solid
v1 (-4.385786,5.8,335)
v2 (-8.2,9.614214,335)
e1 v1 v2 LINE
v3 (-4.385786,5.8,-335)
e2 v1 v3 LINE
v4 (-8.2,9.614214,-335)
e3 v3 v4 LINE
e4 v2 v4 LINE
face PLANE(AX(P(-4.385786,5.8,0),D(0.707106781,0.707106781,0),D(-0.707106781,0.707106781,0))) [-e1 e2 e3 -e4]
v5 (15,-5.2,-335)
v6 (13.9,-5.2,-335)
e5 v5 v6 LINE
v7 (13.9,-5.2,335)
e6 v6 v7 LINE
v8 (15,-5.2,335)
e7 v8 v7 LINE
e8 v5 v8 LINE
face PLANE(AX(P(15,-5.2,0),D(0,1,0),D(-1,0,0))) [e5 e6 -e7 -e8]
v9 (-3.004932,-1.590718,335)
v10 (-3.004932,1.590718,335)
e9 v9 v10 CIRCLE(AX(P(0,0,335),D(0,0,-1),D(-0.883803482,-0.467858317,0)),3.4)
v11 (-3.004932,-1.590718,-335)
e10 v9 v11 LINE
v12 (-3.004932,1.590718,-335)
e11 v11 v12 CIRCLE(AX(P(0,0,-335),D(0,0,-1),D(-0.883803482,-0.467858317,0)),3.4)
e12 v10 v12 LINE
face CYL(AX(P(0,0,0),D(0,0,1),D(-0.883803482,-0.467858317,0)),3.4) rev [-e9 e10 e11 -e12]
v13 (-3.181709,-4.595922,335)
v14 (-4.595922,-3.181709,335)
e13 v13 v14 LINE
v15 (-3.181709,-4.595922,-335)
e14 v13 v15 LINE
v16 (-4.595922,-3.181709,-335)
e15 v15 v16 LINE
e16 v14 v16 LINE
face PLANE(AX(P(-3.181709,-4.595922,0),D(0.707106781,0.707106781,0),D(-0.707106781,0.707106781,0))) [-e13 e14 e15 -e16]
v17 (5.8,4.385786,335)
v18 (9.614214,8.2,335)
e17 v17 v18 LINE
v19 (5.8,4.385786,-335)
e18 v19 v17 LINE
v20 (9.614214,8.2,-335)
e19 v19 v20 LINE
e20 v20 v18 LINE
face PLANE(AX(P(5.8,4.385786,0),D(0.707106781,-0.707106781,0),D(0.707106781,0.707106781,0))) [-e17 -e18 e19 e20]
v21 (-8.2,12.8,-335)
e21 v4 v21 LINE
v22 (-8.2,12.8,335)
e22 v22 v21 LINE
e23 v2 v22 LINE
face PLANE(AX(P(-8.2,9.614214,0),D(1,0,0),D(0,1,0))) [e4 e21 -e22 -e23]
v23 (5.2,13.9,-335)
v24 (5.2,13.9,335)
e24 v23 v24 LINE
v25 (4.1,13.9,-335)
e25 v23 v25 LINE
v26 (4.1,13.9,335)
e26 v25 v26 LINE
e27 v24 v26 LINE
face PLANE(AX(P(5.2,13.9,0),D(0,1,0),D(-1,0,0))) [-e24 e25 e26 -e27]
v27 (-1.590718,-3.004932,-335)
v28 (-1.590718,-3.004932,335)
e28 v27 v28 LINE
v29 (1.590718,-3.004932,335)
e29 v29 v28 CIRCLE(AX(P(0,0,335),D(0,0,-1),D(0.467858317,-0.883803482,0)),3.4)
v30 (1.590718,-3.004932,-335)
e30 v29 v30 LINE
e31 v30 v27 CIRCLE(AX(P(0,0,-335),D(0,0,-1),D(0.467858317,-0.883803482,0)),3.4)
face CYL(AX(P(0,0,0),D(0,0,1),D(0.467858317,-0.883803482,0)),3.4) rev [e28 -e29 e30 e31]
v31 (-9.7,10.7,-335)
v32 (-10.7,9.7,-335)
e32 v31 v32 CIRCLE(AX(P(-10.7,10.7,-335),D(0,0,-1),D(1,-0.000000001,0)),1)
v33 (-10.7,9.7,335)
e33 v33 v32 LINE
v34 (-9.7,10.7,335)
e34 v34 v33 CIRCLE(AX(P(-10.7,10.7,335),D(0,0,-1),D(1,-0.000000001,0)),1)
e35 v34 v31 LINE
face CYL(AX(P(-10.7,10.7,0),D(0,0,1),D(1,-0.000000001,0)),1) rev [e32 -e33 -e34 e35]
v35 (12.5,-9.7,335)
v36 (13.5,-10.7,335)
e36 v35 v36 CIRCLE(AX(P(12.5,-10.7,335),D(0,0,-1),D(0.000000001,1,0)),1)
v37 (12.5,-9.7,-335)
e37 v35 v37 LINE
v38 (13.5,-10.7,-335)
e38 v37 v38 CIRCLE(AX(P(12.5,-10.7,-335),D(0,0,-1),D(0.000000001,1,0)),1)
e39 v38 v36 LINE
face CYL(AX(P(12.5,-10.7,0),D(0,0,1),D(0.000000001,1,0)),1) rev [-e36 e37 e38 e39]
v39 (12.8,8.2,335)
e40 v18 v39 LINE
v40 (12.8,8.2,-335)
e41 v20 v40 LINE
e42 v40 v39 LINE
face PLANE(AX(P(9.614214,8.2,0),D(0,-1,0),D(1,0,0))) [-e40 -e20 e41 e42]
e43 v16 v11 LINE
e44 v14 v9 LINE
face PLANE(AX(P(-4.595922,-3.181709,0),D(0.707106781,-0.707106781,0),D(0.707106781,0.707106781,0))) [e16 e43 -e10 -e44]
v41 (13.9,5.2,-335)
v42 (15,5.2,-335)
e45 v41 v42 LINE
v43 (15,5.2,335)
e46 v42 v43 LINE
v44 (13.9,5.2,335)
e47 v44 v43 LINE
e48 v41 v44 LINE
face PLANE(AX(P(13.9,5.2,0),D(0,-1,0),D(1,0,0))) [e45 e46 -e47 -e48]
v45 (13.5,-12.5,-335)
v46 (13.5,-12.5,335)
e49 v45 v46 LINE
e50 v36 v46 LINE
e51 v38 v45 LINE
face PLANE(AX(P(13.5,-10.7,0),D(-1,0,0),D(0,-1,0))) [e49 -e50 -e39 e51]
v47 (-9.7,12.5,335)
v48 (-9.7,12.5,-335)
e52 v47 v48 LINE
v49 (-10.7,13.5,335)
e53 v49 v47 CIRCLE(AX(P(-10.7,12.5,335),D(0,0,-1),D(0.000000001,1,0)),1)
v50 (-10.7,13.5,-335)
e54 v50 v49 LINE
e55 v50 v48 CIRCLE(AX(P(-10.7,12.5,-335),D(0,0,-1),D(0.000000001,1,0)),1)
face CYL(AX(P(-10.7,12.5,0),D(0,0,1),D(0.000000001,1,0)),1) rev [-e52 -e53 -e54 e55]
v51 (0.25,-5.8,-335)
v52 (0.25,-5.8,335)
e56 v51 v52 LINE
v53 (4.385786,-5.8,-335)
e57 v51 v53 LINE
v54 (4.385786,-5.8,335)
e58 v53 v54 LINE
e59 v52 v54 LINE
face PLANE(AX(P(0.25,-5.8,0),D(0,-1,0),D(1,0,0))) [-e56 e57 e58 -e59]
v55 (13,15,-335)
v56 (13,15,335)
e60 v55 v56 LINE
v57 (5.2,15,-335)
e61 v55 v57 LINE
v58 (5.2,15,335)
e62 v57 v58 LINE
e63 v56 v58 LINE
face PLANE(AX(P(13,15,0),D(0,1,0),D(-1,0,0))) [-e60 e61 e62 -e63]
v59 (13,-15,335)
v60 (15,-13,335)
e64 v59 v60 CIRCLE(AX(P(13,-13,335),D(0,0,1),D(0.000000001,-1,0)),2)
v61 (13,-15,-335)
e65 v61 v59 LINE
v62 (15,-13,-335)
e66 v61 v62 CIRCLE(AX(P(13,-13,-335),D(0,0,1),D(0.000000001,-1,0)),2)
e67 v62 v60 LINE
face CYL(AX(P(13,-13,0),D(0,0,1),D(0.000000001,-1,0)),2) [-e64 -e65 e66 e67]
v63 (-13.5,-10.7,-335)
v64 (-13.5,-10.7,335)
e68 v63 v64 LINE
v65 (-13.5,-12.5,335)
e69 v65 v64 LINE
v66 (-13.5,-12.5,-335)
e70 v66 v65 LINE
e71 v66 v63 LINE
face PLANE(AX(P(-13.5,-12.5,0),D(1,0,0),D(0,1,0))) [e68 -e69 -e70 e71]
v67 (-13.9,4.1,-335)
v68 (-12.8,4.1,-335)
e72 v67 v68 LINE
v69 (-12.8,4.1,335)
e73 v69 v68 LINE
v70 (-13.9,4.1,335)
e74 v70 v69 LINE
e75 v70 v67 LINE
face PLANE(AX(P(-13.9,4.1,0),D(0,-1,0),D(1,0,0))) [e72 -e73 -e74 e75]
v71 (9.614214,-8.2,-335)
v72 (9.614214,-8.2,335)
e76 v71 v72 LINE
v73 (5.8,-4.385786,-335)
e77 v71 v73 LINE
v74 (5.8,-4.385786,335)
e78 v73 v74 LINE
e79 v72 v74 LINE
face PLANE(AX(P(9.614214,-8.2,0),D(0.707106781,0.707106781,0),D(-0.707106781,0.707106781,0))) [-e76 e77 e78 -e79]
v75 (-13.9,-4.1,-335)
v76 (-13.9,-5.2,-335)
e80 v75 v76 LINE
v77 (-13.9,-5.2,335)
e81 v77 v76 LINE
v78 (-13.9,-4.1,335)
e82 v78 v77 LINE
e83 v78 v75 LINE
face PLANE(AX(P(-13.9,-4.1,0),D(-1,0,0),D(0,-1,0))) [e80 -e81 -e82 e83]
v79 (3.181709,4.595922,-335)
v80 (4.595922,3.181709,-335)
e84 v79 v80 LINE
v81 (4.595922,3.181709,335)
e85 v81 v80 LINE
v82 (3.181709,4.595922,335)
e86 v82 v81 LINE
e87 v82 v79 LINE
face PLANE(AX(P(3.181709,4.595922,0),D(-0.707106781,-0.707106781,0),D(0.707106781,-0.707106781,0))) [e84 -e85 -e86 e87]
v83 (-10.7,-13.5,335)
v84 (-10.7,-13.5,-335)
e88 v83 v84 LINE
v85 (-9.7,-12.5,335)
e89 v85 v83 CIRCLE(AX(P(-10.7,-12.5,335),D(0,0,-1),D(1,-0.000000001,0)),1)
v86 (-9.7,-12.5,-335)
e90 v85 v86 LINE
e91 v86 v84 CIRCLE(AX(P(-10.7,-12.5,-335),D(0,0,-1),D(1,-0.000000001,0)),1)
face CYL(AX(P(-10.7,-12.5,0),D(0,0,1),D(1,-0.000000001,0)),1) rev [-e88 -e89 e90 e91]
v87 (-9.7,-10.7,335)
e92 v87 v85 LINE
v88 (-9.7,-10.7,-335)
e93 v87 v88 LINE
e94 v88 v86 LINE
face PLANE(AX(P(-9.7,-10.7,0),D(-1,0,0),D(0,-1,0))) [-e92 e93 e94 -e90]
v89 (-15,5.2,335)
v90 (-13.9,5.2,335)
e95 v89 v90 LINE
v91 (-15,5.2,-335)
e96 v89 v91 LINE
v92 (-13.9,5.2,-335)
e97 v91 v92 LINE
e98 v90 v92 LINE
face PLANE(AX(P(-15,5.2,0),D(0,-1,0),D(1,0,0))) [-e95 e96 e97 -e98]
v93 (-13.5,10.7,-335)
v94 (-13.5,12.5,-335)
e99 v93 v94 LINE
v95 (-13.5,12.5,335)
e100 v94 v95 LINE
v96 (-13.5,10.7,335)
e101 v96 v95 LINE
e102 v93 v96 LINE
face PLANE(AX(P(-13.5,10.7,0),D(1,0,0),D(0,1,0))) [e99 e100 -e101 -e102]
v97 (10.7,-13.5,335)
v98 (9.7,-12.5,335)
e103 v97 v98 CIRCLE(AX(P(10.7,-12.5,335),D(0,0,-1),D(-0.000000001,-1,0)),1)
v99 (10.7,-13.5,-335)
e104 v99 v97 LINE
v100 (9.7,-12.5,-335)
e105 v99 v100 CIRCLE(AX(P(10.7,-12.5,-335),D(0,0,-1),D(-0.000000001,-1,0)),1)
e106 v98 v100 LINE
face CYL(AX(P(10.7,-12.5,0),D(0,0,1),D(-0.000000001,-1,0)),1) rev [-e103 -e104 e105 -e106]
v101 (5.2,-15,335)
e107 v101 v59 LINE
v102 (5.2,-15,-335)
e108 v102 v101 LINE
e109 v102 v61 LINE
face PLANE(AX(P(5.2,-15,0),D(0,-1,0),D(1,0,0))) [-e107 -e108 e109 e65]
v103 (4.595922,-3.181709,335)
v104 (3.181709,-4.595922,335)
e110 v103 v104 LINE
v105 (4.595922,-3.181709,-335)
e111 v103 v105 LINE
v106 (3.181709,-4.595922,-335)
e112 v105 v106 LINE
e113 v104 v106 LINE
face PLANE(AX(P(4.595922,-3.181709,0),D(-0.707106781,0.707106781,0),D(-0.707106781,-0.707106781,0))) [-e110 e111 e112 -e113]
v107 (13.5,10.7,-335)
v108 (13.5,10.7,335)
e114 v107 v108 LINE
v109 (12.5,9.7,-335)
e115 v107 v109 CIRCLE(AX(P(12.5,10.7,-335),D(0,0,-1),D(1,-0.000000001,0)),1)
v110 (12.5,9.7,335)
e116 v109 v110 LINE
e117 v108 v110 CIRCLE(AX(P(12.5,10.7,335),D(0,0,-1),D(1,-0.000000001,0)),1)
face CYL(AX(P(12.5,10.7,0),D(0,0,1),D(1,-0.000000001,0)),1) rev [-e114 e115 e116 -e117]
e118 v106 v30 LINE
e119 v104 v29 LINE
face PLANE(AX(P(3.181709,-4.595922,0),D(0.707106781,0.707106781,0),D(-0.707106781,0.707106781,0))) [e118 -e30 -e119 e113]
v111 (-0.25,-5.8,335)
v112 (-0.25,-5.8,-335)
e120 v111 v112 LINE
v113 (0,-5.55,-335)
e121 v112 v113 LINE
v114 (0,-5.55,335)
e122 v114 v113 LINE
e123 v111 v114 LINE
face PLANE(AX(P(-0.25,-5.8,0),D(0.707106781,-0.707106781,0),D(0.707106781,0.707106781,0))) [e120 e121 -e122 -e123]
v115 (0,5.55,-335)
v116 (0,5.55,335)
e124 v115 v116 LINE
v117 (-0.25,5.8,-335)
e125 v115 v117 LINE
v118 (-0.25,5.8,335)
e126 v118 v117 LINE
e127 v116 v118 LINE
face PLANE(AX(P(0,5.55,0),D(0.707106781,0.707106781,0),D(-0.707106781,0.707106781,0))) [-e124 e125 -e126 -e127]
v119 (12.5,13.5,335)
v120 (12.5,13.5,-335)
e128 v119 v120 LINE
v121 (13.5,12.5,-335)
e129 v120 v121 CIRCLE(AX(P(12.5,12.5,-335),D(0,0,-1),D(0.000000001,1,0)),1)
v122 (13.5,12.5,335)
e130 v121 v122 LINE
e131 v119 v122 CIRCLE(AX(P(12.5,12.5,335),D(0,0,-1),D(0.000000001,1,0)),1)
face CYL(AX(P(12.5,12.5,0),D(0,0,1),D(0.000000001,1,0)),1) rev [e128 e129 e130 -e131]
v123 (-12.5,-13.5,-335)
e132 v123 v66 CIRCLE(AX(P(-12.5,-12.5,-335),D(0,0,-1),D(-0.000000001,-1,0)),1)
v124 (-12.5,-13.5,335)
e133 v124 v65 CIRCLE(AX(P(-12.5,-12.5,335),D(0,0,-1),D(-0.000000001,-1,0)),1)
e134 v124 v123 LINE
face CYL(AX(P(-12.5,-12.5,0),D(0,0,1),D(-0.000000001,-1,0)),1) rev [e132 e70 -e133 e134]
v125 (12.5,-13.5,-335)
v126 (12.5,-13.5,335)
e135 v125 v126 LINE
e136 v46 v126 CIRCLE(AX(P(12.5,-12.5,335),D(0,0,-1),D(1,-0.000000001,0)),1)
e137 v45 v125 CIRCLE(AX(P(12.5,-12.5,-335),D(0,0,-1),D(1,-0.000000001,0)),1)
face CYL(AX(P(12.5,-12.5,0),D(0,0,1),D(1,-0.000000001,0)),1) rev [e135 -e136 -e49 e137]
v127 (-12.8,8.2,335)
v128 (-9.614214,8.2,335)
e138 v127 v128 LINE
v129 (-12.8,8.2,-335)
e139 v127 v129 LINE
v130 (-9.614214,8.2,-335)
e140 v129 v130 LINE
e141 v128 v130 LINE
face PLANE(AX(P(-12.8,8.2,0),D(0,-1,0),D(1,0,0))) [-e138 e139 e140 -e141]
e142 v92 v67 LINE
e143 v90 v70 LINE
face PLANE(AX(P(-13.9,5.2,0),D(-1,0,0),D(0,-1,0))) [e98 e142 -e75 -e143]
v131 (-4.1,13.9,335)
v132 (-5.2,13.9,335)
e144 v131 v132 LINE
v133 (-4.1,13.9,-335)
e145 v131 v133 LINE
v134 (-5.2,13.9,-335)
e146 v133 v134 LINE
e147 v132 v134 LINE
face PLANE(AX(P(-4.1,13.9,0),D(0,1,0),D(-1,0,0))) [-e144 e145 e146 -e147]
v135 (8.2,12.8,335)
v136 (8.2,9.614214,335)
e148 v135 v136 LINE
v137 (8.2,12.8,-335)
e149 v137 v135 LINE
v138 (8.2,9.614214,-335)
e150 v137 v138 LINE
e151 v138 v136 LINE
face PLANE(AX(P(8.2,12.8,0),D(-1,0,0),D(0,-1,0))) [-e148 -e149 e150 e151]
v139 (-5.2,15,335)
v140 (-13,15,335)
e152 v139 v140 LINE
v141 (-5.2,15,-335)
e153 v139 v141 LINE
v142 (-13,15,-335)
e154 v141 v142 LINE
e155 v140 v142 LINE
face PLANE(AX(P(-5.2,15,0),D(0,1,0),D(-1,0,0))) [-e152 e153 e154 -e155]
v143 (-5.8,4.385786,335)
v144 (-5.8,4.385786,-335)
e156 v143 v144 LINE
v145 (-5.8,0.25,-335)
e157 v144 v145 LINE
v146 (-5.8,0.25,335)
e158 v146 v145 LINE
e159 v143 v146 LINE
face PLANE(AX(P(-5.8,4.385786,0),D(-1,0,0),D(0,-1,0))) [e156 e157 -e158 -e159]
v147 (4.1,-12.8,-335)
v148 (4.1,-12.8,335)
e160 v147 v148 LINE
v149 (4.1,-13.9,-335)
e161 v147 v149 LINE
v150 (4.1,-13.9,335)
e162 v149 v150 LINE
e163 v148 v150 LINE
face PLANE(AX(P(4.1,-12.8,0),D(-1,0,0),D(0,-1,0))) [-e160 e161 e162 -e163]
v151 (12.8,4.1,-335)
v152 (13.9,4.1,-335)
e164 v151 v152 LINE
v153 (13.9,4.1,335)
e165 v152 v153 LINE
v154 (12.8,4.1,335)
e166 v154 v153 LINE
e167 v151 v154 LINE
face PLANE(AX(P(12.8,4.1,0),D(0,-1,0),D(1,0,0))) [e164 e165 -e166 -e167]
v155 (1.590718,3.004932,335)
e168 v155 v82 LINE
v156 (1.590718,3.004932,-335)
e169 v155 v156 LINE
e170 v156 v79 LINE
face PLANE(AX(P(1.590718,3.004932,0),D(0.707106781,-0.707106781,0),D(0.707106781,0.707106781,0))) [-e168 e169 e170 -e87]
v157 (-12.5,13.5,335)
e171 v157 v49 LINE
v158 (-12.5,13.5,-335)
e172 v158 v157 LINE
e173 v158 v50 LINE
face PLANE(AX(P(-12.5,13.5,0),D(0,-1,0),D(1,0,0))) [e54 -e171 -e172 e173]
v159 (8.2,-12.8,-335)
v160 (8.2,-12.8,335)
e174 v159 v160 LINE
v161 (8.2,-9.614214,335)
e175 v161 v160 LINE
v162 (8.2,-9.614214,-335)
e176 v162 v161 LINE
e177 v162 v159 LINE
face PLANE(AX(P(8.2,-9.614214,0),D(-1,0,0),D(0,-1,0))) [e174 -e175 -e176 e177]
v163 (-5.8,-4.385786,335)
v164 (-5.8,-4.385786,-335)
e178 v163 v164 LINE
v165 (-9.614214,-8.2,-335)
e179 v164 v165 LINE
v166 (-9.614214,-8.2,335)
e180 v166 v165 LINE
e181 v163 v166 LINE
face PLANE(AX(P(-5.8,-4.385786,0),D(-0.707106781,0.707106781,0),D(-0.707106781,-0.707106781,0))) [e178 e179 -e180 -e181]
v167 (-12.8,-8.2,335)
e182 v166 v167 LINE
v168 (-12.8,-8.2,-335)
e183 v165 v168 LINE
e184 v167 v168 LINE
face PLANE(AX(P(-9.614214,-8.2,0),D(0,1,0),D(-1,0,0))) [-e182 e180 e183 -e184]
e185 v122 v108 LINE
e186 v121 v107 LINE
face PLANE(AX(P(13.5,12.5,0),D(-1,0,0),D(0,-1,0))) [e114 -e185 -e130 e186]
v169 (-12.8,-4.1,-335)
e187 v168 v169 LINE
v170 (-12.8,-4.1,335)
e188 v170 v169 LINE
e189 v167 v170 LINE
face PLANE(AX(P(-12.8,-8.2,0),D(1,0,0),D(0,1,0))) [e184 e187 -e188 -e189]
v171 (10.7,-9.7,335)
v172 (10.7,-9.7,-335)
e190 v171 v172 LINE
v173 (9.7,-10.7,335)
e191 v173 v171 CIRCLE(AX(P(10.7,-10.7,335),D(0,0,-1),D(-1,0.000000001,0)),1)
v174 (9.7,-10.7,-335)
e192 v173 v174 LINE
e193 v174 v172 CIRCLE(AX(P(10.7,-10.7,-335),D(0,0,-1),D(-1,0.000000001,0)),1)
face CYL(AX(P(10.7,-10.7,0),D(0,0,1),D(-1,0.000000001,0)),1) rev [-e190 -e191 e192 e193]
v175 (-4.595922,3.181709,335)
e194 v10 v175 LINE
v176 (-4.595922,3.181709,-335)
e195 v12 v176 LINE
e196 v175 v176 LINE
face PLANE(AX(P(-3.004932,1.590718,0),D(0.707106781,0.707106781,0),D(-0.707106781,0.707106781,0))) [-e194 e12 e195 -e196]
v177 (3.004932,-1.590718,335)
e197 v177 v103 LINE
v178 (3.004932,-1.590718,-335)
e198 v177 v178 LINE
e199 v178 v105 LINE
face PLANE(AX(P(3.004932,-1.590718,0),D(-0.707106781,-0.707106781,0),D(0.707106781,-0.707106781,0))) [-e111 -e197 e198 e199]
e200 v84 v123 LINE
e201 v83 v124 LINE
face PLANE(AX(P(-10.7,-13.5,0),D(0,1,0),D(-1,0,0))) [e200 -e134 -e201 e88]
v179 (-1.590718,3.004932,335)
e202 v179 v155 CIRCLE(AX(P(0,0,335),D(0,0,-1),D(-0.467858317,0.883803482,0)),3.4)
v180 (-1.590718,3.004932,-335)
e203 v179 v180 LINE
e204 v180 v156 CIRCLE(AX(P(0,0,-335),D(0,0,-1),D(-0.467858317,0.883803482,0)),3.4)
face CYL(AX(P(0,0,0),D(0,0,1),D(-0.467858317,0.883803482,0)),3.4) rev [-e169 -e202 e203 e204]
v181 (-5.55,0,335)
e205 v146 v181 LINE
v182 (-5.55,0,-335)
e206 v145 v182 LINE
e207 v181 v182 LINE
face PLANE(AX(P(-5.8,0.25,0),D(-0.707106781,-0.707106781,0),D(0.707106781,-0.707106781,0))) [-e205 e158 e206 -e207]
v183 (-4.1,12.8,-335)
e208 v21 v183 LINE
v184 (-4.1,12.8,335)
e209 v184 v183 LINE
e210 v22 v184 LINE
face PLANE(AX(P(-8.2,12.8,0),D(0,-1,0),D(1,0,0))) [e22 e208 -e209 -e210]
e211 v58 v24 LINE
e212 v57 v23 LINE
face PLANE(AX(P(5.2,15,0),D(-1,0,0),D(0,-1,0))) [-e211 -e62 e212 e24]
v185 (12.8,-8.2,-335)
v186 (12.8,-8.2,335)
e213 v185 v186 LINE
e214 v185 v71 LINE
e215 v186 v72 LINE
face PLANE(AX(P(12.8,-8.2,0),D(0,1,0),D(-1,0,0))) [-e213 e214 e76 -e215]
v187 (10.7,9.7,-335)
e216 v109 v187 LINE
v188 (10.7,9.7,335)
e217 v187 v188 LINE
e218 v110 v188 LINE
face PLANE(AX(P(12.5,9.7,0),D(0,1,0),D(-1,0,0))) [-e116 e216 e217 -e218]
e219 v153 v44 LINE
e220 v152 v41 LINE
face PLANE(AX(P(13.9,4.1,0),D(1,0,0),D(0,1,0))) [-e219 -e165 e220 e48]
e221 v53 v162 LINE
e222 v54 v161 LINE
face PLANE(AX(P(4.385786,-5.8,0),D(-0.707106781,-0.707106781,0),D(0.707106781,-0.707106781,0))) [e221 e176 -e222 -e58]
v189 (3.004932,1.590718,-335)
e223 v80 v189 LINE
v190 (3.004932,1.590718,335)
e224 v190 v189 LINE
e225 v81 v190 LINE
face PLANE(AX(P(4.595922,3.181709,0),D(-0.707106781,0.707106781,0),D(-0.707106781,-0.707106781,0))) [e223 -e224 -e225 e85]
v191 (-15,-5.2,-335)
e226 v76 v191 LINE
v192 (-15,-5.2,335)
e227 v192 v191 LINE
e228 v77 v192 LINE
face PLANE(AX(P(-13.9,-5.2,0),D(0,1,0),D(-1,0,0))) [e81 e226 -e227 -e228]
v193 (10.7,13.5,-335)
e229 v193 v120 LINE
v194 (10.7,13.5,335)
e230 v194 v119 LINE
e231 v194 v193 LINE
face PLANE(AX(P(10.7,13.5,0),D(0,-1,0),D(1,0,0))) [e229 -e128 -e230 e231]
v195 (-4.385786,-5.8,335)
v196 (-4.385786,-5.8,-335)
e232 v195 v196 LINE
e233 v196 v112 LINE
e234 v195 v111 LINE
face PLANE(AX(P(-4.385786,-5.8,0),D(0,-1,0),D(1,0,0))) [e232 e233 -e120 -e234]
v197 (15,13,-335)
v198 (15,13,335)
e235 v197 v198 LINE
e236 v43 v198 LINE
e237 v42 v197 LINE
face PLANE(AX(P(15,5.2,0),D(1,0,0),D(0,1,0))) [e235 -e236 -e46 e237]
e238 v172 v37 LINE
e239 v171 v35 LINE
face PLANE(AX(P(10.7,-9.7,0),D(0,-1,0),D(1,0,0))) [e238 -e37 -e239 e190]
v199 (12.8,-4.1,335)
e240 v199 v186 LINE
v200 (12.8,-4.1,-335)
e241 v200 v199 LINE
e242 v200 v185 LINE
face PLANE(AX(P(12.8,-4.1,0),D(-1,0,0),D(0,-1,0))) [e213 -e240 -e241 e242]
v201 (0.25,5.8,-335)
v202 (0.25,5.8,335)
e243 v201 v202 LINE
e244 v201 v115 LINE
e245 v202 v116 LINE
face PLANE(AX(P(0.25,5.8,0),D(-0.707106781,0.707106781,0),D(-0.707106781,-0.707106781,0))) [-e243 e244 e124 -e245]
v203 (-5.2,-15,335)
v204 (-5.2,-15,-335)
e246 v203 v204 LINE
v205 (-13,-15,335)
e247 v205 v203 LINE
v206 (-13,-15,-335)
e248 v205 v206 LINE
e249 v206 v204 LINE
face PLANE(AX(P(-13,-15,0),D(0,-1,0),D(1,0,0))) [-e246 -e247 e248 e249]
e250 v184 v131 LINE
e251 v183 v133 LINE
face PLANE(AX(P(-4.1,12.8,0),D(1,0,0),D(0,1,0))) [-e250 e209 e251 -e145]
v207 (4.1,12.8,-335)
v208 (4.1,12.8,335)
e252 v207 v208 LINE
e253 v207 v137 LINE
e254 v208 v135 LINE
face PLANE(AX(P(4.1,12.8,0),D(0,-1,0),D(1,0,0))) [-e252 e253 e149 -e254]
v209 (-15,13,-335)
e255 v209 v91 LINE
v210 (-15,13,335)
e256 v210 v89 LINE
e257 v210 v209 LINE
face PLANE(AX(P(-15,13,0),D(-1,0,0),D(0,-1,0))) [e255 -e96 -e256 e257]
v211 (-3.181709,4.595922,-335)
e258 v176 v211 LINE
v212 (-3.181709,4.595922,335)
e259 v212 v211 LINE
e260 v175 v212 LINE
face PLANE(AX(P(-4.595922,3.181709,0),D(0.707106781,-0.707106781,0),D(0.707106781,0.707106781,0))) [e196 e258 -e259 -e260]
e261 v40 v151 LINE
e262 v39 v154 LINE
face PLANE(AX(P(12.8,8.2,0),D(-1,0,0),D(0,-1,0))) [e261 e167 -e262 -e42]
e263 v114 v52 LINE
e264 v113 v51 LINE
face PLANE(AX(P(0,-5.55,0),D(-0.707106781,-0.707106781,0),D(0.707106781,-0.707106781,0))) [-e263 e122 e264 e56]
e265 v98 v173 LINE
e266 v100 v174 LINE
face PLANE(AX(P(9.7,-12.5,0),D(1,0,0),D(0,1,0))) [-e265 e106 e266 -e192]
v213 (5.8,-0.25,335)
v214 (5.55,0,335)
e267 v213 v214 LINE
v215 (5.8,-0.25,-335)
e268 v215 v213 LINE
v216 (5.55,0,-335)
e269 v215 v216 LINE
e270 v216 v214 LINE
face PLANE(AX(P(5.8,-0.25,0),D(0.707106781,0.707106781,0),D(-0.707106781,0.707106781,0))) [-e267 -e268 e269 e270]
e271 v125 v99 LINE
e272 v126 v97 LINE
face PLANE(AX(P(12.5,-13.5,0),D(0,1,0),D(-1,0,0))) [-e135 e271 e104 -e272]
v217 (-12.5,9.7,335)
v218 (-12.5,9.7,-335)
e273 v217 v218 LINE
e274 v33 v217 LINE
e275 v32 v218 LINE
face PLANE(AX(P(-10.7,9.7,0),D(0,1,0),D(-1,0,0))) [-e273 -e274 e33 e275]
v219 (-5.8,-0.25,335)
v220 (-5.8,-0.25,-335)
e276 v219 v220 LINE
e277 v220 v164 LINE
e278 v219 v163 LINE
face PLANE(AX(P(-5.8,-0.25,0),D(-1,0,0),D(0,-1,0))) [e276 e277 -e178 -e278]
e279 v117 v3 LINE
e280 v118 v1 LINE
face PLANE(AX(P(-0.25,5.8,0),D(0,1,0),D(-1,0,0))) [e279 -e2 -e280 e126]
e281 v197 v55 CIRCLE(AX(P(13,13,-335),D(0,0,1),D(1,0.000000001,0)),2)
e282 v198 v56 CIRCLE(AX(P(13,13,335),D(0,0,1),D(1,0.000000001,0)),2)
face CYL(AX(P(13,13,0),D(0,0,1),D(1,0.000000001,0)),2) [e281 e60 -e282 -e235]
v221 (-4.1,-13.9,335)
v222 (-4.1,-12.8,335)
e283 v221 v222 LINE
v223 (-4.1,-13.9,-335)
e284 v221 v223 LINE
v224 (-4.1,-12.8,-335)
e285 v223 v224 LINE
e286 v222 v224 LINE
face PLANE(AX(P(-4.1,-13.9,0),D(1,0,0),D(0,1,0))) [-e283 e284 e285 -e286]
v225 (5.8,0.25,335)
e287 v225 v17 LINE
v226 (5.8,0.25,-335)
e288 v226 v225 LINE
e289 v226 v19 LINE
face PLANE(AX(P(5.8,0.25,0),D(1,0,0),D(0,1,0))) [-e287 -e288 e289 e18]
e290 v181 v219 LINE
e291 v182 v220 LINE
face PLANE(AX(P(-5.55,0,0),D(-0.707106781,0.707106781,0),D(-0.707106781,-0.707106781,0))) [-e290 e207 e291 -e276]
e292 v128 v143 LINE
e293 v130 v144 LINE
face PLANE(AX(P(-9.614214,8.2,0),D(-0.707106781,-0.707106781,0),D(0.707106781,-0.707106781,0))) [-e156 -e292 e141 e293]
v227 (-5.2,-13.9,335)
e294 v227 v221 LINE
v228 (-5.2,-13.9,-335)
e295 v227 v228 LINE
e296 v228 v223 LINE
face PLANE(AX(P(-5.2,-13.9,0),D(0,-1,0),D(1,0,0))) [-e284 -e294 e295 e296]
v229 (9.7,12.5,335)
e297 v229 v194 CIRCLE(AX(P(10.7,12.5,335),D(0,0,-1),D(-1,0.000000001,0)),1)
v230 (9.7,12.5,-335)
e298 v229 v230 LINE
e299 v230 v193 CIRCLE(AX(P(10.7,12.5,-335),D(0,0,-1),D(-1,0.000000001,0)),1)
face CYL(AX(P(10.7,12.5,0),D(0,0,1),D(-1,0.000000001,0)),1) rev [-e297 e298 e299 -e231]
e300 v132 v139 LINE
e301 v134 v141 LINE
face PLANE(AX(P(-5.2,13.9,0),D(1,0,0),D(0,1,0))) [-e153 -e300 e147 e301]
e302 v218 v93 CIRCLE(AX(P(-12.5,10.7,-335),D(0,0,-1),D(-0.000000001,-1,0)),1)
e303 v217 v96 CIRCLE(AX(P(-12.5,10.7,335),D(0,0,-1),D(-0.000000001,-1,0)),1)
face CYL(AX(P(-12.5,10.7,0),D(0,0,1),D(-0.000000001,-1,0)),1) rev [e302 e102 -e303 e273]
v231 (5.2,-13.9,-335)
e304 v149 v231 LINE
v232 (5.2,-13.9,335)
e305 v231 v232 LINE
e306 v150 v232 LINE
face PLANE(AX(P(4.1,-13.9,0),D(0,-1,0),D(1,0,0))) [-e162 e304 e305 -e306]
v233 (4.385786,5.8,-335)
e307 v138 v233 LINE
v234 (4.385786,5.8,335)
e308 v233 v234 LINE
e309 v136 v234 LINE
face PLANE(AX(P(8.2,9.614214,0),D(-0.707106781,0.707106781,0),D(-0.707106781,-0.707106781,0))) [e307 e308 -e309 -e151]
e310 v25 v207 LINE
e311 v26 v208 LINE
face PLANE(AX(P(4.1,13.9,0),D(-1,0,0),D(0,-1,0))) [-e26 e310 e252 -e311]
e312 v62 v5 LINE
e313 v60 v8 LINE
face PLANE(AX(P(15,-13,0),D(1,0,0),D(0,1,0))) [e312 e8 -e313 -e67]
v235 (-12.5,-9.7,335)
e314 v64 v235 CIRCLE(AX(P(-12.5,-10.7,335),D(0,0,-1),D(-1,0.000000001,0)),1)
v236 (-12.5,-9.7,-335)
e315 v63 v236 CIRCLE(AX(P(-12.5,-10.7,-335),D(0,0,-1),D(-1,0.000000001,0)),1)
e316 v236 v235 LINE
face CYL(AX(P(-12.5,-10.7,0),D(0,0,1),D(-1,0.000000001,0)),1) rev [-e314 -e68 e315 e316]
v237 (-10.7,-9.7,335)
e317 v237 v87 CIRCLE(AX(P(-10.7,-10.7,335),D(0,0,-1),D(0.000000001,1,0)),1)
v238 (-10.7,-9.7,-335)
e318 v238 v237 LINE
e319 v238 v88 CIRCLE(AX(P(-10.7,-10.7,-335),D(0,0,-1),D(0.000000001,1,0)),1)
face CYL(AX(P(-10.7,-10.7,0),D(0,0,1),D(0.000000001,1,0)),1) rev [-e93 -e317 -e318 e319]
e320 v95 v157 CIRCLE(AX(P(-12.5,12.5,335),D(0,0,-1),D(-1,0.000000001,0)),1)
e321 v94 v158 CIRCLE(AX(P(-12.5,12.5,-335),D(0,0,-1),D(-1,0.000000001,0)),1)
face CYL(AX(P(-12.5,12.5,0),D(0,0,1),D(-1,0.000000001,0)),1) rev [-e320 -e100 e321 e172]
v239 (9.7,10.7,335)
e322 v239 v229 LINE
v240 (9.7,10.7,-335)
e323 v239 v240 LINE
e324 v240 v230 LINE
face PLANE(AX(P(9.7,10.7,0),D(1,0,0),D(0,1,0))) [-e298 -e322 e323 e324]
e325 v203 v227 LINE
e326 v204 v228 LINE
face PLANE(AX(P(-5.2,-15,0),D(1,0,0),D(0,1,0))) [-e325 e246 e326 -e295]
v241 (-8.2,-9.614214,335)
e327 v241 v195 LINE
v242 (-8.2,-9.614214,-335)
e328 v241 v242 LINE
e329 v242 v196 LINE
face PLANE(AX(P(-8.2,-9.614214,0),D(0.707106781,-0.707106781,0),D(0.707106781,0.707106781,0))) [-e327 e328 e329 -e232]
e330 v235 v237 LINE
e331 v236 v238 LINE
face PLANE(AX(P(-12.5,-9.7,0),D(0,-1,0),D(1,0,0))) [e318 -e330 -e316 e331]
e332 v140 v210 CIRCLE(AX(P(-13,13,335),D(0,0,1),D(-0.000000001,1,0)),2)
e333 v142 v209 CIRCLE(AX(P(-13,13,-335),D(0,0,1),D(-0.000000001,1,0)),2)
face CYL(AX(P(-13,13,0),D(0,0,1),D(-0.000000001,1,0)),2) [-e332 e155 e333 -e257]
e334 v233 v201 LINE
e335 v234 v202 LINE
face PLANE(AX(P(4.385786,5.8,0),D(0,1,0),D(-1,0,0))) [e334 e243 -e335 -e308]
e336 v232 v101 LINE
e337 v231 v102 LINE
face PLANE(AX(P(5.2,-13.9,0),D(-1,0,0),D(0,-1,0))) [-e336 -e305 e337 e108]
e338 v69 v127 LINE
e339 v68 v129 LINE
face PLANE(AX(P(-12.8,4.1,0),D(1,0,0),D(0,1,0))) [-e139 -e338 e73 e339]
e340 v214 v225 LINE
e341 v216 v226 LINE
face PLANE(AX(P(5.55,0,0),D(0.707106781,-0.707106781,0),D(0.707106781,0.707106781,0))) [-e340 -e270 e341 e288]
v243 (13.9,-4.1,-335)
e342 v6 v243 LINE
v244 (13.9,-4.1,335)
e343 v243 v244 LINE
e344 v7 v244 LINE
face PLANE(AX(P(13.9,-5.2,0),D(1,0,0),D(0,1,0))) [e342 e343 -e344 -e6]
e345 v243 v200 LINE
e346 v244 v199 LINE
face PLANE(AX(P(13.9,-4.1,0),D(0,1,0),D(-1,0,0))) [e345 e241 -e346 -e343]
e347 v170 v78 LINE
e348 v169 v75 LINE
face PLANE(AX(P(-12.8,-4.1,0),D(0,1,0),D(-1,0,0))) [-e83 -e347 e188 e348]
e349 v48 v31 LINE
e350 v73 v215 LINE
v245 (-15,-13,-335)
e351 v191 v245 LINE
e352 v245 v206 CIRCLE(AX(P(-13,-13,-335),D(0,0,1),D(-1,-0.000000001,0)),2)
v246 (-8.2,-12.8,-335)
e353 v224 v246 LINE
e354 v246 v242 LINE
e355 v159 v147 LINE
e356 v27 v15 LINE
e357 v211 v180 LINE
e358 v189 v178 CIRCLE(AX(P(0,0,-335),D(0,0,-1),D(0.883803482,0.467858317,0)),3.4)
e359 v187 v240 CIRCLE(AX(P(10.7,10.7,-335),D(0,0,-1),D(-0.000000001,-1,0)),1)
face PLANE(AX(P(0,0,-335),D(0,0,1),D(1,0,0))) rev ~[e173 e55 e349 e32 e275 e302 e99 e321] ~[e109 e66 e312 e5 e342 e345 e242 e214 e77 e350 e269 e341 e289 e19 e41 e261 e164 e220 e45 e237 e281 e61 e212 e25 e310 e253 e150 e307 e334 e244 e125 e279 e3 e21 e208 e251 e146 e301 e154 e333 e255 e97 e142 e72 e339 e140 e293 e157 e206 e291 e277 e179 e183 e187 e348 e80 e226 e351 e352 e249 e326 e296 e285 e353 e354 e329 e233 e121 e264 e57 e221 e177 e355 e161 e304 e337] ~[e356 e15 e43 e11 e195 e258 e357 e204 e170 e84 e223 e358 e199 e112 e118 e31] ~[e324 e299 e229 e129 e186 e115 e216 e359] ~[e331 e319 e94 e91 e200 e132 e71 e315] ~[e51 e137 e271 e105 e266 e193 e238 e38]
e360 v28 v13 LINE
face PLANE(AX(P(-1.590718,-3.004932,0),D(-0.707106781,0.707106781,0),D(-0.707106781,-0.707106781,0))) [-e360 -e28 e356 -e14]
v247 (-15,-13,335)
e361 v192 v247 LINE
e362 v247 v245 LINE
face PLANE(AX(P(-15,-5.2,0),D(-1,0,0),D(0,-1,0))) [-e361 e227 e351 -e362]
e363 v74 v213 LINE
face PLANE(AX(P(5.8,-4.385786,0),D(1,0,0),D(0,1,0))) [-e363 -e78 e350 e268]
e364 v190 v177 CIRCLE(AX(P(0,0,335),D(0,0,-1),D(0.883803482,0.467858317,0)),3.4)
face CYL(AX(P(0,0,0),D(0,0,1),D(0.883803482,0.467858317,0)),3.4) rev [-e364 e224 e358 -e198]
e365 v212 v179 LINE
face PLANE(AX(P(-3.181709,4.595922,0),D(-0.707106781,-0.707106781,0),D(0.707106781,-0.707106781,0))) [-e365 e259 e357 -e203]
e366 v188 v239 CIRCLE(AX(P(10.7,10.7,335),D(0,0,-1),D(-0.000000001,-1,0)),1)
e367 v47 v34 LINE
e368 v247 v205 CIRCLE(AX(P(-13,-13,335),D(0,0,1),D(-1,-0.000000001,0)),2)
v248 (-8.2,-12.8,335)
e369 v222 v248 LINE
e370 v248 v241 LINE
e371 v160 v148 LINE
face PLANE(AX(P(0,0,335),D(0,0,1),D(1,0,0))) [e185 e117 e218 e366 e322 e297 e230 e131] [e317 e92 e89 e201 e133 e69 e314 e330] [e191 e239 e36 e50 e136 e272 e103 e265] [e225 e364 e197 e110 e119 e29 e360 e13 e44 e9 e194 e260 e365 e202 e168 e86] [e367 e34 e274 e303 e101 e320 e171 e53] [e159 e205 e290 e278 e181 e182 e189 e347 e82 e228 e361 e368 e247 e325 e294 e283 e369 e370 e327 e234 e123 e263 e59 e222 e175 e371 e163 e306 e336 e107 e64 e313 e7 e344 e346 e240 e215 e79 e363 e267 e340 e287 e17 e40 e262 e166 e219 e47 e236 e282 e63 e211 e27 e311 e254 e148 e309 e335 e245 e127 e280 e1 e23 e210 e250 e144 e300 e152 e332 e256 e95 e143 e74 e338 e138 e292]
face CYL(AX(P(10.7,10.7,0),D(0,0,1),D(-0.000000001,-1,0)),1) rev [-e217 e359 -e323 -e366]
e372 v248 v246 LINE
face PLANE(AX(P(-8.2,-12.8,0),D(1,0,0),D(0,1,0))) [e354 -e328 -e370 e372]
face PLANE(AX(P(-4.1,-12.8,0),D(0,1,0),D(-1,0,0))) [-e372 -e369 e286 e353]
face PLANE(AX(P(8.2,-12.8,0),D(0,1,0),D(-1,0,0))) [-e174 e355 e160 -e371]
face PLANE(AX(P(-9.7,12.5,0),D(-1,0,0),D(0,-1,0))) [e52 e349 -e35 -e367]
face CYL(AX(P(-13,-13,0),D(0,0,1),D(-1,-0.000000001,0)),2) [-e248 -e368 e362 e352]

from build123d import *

# Parameters (mm, degrees)
BOSS_EXTRUDE1_DEPTH = 335


with BuildPart() as part:
    # Sketch1 → Boss-Extrude1 (new, symmetric)
    with BuildSketch(Plane.XY):
        with BuildLine():
            Line((0, -5.55), (0.25, -5.8))
            Line((0.25, -5.8), (4.385786438, -5.8))
            Line((4.385786438, -5.8), (8.2, -9.614213562))
            Line((8.2, -9.614213562), (8.2, -12.8))
            Line((8.2, -12.8), (4.1, -12.8))
            Line((4.1, -12.8), (4.1, -13.9))
            Line((4.1, -13.9), (5.2, -13.9))
            Line((5.2, -13.9), (5.2, -15))
            Line((5.2, -15), (13, -15))
            ThreePointArc((13, -15), (14.414213562, -14.414213562), (15, -13))
            Line((15, -13), (15, -5.2))
            Line((15, -5.2), (13.9, -5.2))
            Line((13.9, -5.2), (13.9, -4.1))
            Line((13.9, -4.1), (12.8, -4.1))
            Line((12.8, -4.1), (12.8, -8.2))
            Line((12.8, -8.2), (9.614213562, -8.2))
            Line((9.614213562, -8.2), (5.8, -4.385786438))
            Line((5.8, -4.385786438), (5.8, -0.25))
            Line((5.8, -0.25), (5.55, 0))
            Line((5.55, 0), (5.8, 0.25))
            Line((5.8, 0.25), (5.8, 4.385786438))
            Line((5.8, 4.385786438), (9.614213562, 8.2))
            Line((9.614213562, 8.2), (12.8, 8.2))
            Line((12.8, 8.2), (12.8, 4.1))
            Line((12.8, 4.1), (13.9, 4.1))
            Line((13.9, 4.1), (13.9, 5.2))
            Line((13.9, 5.2), (15, 5.2))
            Line((15, 5.2), (15, 13))
            ThreePointArc((15, 13), (14.414213562, 14.414213562), (13, 15))
            Line((13, 15), (5.2, 15))
            Line((5.2, 15), (5.2, 13.9))
            Line((5.2, 13.9), (4.1, 13.9))
            Line((4.1, 13.9), (4.1, 12.8))
            Line((4.1, 12.8), (8.2, 12.8))
            Line((8.2, 12.8), (8.2, 9.614213562))
            Line((8.2, 9.614213562), (4.385786438, 5.8))
            Line((4.385786438, 5.8), (0.25, 5.8))
            Line((0.25, 5.8), (0, 5.55))
            Line((0, 5.55), (-0.25, 5.8))
            Line((-0.25, 5.8), (-4.385786438, 5.8))
            Line((-4.385786438, 5.8), (-8.2, 9.614213562))
            Line((-8.2, 9.614213562), (-8.2, 12.8))
            Line((-8.2, 12.8), (-4.1, 12.8))
            Line((-4.1, 12.8), (-4.1, 13.9))
            Line((-4.1, 13.9), (-5.2, 13.9))
            Line((-5.2, 13.9), (-5.2, 15))
            Line((-5.2, 15), (-13, 15))
            ThreePointArc((-13, 15), (-14.414213562, 14.414213562), (-15, 13))
            Line((-15, 13), (-15, 5.2))
            Line((-15, 5.2), (-13.9, 5.2))
            Line((-13.9, 5.2), (-13.9, 4.1))
            Line((-13.9, 4.1), (-12.8, 4.1))
            Line((-12.8, 4.1), (-12.8, 8.2))
            Line((-12.8, 8.2), (-9.614213562, 8.2))
            Line((-9.614213562, 8.2), (-5.8, 4.385786438))
            Line((-5.8, 4.385786438), (-5.8, 0.25))
            Line((-5.8, 0.25), (-5.55, 0))
            Line((-5.55, 0), (-5.8, -0.25))
            Line((-5.8, -0.25), (-5.8, -4.385786438))
            Line((-5.8, -4.385786438), (-9.614213562, -8.2))
            Line((-9.614213562, -8.2), (-12.8, -8.2))
            Line((-12.8, -8.2), (-12.8, -4.1))
            Line((-12.8, -4.1), (-13.9, -4.1))
            Line((-13.9, -4.1), (-13.9, -5.2))
            Line((-13.9, -5.2), (-15, -5.2))
            Line((-15, -5.2), (-15, -13))
            ThreePointArc((-15, -13), (-14.414213562, -14.414213562), (-13, -15))
            Line((-13, -15), (-5.2, -15))
            Line((-5.2, -15), (-5.2, -13.9))
            Line((-5.2, -13.9), (-4.1, -13.9))
            Line((-4.1, -13.9), (-4.1, -12.8))
            Line((-4.1, -12.8), (-8.2, -12.8))
            Line((-8.2, -12.8), (-8.2, -9.614213562))
            Line((-8.2, -9.614213562), (-4.385786438, -5.8))
            Line((-4.385786438, -5.8), (-0.25, -5.8))
            Line((-0.25, -5.8), (0, -5.55))
        make_face()
        with BuildLine():
            Line((-13.5, 10.7), (-13.5, 12.5))
            ThreePointArc((-13.5, 12.5), (-13.207106781, 13.207106781), (-12.5, 13.5))
            Line((-12.5, 13.5), (-10.7, 13.5))
            ThreePointArc((-10.7, 13.5), (-9.992893219, 13.207106781), (-9.7, 12.5))
            Line((-9.7, 12.5), (-9.7, 10.7))
            ThreePointArc((-9.7, 10.7), (-9.992893219, 9.992893219), (-10.7, 9.7))
            Line((-10.7, 9.7), (-12.5, 9.7))
            ThreePointArc((-12.5, 9.7), (-13.207106781, 9.992893219), (-13.5, 10.7))
        make_face(mode=Mode.SUBTRACT)
        with BuildLine():
            Line((-13.5, -12.5), (-13.5, -10.7))
            ThreePointArc((-13.5, -10.7), (-13.207106781, -9.992893219), (-12.5, -9.7))
            Line((-12.5, -9.7), (-10.7, -9.7))
            ThreePointArc((-10.7, -9.7), (-9.992893219, -9.992893219), (-9.7, -10.7))
            Line((-9.7, -10.7), (-9.7, -12.5))
            ThreePointArc((-9.7, -12.5), (-9.992893219, -13.207106781), (-10.7, -13.5))
            Line((-10.7, -13.5), (-12.5, -13.5))
            ThreePointArc((-12.5, -13.5), (-13.207106781, -13.207106781), (-13.5, -12.5))
        make_face(mode=Mode.SUBTRACT)
        with BuildLine():
            Line((13.5, -10.7), (13.5, -12.5))
            ThreePointArc((13.5, -12.5), (13.207106781, -13.207106781), (12.5, -13.5))
            Line((12.5, -13.5), (10.7, -13.5))
            ThreePointArc((10.7, -13.5), (9.992893219, -13.207106781), (9.7, -12.5))
            Line((9.7, -12.5), (9.7, -10.7))
            ThreePointArc((9.7, -10.7), (9.992893219, -9.992893219), (10.7, -9.7))
            Line((10.7, -9.7), (12.5, -9.7))
            ThreePointArc((12.5, -9.7), (13.207106781, -9.992893219), (13.5, -10.7))
        make_face(mode=Mode.SUBTRACT)
        with BuildLine():
            Line((13.5, 12.5), (13.5, 10.7))
            ThreePointArc((13.5, 10.7), (13.207106781, 9.992893219), (12.5, 9.7))
            Line((12.5, 9.7), (10.7, 9.7))
            ThreePointArc((10.7, 9.7), (9.992893219, 9.992893219), (9.7, 10.7))
            Line((9.7, 10.7), (9.7, 12.5))
            ThreePointArc((9.7, 12.5), (9.992893219, 13.207106781), (10.7, 13.5))
            Line((10.7, 13.5), (12.5, 13.5))
            ThreePointArc((12.5, 13.5), (13.207106781, 13.207106781), (13.5, 12.5))
        make_face(mode=Mode.SUBTRACT)
        with BuildLine():
            Line((-1.590718277, -3.00493184), (-3.181708535, -4.595922097))
            Line((-3.181708535, -4.595922097), (-4.595922097, -3.181708535))
            Line((-4.595922097, -3.181708535), (-3.00493184, -1.590718277))
            ThreePointArc((-3.00493184, -1.590718277), (-3.4, 0), (-3.00493184, 1.590718277))
            Line((-3.00493184, 1.590718277), (-4.595922097, 3.181708535))
            Line((-4.595922097, 3.181708535), (-3.181708535, 4.595922097))
            Line((-3.181708535, 4.595922097), (-1.590718277, 3.00493184))
            ThreePointArc((-1.590718277, 3.00493184), (0, 3.4), (1.590718277, 3.00493184))
            Line((1.590718277, 3.00493184), (3.181708535, 4.595922097))
            Line((3.181708535, 4.595922097), (4.595922097, 3.181708535))
            Line((4.595922097, 3.181708535), (3.00493184, 1.590718277))
            ThreePointArc((3.00493184, 1.590718277), (3.4, 0), (3.00493184, -1.590718277))
            Line((3.00493184, -1.590718277), (4.595922097, -3.181708535))
            Line((4.595922097, -3.181708535), (3.181708535, -4.595922097))
            Line((3.181708535, -4.595922097), (1.590718277, -3.00493184))
            ThreePointArc((1.590718277, -3.00493184), (0, -3.4), (-1.590718277, -3.00493184))
        make_face(mode=Mode.SUBTRACT)
    extrude(amount=BOSS_EXTRUDE1_DEPTH, both=True)


solid = part.part
